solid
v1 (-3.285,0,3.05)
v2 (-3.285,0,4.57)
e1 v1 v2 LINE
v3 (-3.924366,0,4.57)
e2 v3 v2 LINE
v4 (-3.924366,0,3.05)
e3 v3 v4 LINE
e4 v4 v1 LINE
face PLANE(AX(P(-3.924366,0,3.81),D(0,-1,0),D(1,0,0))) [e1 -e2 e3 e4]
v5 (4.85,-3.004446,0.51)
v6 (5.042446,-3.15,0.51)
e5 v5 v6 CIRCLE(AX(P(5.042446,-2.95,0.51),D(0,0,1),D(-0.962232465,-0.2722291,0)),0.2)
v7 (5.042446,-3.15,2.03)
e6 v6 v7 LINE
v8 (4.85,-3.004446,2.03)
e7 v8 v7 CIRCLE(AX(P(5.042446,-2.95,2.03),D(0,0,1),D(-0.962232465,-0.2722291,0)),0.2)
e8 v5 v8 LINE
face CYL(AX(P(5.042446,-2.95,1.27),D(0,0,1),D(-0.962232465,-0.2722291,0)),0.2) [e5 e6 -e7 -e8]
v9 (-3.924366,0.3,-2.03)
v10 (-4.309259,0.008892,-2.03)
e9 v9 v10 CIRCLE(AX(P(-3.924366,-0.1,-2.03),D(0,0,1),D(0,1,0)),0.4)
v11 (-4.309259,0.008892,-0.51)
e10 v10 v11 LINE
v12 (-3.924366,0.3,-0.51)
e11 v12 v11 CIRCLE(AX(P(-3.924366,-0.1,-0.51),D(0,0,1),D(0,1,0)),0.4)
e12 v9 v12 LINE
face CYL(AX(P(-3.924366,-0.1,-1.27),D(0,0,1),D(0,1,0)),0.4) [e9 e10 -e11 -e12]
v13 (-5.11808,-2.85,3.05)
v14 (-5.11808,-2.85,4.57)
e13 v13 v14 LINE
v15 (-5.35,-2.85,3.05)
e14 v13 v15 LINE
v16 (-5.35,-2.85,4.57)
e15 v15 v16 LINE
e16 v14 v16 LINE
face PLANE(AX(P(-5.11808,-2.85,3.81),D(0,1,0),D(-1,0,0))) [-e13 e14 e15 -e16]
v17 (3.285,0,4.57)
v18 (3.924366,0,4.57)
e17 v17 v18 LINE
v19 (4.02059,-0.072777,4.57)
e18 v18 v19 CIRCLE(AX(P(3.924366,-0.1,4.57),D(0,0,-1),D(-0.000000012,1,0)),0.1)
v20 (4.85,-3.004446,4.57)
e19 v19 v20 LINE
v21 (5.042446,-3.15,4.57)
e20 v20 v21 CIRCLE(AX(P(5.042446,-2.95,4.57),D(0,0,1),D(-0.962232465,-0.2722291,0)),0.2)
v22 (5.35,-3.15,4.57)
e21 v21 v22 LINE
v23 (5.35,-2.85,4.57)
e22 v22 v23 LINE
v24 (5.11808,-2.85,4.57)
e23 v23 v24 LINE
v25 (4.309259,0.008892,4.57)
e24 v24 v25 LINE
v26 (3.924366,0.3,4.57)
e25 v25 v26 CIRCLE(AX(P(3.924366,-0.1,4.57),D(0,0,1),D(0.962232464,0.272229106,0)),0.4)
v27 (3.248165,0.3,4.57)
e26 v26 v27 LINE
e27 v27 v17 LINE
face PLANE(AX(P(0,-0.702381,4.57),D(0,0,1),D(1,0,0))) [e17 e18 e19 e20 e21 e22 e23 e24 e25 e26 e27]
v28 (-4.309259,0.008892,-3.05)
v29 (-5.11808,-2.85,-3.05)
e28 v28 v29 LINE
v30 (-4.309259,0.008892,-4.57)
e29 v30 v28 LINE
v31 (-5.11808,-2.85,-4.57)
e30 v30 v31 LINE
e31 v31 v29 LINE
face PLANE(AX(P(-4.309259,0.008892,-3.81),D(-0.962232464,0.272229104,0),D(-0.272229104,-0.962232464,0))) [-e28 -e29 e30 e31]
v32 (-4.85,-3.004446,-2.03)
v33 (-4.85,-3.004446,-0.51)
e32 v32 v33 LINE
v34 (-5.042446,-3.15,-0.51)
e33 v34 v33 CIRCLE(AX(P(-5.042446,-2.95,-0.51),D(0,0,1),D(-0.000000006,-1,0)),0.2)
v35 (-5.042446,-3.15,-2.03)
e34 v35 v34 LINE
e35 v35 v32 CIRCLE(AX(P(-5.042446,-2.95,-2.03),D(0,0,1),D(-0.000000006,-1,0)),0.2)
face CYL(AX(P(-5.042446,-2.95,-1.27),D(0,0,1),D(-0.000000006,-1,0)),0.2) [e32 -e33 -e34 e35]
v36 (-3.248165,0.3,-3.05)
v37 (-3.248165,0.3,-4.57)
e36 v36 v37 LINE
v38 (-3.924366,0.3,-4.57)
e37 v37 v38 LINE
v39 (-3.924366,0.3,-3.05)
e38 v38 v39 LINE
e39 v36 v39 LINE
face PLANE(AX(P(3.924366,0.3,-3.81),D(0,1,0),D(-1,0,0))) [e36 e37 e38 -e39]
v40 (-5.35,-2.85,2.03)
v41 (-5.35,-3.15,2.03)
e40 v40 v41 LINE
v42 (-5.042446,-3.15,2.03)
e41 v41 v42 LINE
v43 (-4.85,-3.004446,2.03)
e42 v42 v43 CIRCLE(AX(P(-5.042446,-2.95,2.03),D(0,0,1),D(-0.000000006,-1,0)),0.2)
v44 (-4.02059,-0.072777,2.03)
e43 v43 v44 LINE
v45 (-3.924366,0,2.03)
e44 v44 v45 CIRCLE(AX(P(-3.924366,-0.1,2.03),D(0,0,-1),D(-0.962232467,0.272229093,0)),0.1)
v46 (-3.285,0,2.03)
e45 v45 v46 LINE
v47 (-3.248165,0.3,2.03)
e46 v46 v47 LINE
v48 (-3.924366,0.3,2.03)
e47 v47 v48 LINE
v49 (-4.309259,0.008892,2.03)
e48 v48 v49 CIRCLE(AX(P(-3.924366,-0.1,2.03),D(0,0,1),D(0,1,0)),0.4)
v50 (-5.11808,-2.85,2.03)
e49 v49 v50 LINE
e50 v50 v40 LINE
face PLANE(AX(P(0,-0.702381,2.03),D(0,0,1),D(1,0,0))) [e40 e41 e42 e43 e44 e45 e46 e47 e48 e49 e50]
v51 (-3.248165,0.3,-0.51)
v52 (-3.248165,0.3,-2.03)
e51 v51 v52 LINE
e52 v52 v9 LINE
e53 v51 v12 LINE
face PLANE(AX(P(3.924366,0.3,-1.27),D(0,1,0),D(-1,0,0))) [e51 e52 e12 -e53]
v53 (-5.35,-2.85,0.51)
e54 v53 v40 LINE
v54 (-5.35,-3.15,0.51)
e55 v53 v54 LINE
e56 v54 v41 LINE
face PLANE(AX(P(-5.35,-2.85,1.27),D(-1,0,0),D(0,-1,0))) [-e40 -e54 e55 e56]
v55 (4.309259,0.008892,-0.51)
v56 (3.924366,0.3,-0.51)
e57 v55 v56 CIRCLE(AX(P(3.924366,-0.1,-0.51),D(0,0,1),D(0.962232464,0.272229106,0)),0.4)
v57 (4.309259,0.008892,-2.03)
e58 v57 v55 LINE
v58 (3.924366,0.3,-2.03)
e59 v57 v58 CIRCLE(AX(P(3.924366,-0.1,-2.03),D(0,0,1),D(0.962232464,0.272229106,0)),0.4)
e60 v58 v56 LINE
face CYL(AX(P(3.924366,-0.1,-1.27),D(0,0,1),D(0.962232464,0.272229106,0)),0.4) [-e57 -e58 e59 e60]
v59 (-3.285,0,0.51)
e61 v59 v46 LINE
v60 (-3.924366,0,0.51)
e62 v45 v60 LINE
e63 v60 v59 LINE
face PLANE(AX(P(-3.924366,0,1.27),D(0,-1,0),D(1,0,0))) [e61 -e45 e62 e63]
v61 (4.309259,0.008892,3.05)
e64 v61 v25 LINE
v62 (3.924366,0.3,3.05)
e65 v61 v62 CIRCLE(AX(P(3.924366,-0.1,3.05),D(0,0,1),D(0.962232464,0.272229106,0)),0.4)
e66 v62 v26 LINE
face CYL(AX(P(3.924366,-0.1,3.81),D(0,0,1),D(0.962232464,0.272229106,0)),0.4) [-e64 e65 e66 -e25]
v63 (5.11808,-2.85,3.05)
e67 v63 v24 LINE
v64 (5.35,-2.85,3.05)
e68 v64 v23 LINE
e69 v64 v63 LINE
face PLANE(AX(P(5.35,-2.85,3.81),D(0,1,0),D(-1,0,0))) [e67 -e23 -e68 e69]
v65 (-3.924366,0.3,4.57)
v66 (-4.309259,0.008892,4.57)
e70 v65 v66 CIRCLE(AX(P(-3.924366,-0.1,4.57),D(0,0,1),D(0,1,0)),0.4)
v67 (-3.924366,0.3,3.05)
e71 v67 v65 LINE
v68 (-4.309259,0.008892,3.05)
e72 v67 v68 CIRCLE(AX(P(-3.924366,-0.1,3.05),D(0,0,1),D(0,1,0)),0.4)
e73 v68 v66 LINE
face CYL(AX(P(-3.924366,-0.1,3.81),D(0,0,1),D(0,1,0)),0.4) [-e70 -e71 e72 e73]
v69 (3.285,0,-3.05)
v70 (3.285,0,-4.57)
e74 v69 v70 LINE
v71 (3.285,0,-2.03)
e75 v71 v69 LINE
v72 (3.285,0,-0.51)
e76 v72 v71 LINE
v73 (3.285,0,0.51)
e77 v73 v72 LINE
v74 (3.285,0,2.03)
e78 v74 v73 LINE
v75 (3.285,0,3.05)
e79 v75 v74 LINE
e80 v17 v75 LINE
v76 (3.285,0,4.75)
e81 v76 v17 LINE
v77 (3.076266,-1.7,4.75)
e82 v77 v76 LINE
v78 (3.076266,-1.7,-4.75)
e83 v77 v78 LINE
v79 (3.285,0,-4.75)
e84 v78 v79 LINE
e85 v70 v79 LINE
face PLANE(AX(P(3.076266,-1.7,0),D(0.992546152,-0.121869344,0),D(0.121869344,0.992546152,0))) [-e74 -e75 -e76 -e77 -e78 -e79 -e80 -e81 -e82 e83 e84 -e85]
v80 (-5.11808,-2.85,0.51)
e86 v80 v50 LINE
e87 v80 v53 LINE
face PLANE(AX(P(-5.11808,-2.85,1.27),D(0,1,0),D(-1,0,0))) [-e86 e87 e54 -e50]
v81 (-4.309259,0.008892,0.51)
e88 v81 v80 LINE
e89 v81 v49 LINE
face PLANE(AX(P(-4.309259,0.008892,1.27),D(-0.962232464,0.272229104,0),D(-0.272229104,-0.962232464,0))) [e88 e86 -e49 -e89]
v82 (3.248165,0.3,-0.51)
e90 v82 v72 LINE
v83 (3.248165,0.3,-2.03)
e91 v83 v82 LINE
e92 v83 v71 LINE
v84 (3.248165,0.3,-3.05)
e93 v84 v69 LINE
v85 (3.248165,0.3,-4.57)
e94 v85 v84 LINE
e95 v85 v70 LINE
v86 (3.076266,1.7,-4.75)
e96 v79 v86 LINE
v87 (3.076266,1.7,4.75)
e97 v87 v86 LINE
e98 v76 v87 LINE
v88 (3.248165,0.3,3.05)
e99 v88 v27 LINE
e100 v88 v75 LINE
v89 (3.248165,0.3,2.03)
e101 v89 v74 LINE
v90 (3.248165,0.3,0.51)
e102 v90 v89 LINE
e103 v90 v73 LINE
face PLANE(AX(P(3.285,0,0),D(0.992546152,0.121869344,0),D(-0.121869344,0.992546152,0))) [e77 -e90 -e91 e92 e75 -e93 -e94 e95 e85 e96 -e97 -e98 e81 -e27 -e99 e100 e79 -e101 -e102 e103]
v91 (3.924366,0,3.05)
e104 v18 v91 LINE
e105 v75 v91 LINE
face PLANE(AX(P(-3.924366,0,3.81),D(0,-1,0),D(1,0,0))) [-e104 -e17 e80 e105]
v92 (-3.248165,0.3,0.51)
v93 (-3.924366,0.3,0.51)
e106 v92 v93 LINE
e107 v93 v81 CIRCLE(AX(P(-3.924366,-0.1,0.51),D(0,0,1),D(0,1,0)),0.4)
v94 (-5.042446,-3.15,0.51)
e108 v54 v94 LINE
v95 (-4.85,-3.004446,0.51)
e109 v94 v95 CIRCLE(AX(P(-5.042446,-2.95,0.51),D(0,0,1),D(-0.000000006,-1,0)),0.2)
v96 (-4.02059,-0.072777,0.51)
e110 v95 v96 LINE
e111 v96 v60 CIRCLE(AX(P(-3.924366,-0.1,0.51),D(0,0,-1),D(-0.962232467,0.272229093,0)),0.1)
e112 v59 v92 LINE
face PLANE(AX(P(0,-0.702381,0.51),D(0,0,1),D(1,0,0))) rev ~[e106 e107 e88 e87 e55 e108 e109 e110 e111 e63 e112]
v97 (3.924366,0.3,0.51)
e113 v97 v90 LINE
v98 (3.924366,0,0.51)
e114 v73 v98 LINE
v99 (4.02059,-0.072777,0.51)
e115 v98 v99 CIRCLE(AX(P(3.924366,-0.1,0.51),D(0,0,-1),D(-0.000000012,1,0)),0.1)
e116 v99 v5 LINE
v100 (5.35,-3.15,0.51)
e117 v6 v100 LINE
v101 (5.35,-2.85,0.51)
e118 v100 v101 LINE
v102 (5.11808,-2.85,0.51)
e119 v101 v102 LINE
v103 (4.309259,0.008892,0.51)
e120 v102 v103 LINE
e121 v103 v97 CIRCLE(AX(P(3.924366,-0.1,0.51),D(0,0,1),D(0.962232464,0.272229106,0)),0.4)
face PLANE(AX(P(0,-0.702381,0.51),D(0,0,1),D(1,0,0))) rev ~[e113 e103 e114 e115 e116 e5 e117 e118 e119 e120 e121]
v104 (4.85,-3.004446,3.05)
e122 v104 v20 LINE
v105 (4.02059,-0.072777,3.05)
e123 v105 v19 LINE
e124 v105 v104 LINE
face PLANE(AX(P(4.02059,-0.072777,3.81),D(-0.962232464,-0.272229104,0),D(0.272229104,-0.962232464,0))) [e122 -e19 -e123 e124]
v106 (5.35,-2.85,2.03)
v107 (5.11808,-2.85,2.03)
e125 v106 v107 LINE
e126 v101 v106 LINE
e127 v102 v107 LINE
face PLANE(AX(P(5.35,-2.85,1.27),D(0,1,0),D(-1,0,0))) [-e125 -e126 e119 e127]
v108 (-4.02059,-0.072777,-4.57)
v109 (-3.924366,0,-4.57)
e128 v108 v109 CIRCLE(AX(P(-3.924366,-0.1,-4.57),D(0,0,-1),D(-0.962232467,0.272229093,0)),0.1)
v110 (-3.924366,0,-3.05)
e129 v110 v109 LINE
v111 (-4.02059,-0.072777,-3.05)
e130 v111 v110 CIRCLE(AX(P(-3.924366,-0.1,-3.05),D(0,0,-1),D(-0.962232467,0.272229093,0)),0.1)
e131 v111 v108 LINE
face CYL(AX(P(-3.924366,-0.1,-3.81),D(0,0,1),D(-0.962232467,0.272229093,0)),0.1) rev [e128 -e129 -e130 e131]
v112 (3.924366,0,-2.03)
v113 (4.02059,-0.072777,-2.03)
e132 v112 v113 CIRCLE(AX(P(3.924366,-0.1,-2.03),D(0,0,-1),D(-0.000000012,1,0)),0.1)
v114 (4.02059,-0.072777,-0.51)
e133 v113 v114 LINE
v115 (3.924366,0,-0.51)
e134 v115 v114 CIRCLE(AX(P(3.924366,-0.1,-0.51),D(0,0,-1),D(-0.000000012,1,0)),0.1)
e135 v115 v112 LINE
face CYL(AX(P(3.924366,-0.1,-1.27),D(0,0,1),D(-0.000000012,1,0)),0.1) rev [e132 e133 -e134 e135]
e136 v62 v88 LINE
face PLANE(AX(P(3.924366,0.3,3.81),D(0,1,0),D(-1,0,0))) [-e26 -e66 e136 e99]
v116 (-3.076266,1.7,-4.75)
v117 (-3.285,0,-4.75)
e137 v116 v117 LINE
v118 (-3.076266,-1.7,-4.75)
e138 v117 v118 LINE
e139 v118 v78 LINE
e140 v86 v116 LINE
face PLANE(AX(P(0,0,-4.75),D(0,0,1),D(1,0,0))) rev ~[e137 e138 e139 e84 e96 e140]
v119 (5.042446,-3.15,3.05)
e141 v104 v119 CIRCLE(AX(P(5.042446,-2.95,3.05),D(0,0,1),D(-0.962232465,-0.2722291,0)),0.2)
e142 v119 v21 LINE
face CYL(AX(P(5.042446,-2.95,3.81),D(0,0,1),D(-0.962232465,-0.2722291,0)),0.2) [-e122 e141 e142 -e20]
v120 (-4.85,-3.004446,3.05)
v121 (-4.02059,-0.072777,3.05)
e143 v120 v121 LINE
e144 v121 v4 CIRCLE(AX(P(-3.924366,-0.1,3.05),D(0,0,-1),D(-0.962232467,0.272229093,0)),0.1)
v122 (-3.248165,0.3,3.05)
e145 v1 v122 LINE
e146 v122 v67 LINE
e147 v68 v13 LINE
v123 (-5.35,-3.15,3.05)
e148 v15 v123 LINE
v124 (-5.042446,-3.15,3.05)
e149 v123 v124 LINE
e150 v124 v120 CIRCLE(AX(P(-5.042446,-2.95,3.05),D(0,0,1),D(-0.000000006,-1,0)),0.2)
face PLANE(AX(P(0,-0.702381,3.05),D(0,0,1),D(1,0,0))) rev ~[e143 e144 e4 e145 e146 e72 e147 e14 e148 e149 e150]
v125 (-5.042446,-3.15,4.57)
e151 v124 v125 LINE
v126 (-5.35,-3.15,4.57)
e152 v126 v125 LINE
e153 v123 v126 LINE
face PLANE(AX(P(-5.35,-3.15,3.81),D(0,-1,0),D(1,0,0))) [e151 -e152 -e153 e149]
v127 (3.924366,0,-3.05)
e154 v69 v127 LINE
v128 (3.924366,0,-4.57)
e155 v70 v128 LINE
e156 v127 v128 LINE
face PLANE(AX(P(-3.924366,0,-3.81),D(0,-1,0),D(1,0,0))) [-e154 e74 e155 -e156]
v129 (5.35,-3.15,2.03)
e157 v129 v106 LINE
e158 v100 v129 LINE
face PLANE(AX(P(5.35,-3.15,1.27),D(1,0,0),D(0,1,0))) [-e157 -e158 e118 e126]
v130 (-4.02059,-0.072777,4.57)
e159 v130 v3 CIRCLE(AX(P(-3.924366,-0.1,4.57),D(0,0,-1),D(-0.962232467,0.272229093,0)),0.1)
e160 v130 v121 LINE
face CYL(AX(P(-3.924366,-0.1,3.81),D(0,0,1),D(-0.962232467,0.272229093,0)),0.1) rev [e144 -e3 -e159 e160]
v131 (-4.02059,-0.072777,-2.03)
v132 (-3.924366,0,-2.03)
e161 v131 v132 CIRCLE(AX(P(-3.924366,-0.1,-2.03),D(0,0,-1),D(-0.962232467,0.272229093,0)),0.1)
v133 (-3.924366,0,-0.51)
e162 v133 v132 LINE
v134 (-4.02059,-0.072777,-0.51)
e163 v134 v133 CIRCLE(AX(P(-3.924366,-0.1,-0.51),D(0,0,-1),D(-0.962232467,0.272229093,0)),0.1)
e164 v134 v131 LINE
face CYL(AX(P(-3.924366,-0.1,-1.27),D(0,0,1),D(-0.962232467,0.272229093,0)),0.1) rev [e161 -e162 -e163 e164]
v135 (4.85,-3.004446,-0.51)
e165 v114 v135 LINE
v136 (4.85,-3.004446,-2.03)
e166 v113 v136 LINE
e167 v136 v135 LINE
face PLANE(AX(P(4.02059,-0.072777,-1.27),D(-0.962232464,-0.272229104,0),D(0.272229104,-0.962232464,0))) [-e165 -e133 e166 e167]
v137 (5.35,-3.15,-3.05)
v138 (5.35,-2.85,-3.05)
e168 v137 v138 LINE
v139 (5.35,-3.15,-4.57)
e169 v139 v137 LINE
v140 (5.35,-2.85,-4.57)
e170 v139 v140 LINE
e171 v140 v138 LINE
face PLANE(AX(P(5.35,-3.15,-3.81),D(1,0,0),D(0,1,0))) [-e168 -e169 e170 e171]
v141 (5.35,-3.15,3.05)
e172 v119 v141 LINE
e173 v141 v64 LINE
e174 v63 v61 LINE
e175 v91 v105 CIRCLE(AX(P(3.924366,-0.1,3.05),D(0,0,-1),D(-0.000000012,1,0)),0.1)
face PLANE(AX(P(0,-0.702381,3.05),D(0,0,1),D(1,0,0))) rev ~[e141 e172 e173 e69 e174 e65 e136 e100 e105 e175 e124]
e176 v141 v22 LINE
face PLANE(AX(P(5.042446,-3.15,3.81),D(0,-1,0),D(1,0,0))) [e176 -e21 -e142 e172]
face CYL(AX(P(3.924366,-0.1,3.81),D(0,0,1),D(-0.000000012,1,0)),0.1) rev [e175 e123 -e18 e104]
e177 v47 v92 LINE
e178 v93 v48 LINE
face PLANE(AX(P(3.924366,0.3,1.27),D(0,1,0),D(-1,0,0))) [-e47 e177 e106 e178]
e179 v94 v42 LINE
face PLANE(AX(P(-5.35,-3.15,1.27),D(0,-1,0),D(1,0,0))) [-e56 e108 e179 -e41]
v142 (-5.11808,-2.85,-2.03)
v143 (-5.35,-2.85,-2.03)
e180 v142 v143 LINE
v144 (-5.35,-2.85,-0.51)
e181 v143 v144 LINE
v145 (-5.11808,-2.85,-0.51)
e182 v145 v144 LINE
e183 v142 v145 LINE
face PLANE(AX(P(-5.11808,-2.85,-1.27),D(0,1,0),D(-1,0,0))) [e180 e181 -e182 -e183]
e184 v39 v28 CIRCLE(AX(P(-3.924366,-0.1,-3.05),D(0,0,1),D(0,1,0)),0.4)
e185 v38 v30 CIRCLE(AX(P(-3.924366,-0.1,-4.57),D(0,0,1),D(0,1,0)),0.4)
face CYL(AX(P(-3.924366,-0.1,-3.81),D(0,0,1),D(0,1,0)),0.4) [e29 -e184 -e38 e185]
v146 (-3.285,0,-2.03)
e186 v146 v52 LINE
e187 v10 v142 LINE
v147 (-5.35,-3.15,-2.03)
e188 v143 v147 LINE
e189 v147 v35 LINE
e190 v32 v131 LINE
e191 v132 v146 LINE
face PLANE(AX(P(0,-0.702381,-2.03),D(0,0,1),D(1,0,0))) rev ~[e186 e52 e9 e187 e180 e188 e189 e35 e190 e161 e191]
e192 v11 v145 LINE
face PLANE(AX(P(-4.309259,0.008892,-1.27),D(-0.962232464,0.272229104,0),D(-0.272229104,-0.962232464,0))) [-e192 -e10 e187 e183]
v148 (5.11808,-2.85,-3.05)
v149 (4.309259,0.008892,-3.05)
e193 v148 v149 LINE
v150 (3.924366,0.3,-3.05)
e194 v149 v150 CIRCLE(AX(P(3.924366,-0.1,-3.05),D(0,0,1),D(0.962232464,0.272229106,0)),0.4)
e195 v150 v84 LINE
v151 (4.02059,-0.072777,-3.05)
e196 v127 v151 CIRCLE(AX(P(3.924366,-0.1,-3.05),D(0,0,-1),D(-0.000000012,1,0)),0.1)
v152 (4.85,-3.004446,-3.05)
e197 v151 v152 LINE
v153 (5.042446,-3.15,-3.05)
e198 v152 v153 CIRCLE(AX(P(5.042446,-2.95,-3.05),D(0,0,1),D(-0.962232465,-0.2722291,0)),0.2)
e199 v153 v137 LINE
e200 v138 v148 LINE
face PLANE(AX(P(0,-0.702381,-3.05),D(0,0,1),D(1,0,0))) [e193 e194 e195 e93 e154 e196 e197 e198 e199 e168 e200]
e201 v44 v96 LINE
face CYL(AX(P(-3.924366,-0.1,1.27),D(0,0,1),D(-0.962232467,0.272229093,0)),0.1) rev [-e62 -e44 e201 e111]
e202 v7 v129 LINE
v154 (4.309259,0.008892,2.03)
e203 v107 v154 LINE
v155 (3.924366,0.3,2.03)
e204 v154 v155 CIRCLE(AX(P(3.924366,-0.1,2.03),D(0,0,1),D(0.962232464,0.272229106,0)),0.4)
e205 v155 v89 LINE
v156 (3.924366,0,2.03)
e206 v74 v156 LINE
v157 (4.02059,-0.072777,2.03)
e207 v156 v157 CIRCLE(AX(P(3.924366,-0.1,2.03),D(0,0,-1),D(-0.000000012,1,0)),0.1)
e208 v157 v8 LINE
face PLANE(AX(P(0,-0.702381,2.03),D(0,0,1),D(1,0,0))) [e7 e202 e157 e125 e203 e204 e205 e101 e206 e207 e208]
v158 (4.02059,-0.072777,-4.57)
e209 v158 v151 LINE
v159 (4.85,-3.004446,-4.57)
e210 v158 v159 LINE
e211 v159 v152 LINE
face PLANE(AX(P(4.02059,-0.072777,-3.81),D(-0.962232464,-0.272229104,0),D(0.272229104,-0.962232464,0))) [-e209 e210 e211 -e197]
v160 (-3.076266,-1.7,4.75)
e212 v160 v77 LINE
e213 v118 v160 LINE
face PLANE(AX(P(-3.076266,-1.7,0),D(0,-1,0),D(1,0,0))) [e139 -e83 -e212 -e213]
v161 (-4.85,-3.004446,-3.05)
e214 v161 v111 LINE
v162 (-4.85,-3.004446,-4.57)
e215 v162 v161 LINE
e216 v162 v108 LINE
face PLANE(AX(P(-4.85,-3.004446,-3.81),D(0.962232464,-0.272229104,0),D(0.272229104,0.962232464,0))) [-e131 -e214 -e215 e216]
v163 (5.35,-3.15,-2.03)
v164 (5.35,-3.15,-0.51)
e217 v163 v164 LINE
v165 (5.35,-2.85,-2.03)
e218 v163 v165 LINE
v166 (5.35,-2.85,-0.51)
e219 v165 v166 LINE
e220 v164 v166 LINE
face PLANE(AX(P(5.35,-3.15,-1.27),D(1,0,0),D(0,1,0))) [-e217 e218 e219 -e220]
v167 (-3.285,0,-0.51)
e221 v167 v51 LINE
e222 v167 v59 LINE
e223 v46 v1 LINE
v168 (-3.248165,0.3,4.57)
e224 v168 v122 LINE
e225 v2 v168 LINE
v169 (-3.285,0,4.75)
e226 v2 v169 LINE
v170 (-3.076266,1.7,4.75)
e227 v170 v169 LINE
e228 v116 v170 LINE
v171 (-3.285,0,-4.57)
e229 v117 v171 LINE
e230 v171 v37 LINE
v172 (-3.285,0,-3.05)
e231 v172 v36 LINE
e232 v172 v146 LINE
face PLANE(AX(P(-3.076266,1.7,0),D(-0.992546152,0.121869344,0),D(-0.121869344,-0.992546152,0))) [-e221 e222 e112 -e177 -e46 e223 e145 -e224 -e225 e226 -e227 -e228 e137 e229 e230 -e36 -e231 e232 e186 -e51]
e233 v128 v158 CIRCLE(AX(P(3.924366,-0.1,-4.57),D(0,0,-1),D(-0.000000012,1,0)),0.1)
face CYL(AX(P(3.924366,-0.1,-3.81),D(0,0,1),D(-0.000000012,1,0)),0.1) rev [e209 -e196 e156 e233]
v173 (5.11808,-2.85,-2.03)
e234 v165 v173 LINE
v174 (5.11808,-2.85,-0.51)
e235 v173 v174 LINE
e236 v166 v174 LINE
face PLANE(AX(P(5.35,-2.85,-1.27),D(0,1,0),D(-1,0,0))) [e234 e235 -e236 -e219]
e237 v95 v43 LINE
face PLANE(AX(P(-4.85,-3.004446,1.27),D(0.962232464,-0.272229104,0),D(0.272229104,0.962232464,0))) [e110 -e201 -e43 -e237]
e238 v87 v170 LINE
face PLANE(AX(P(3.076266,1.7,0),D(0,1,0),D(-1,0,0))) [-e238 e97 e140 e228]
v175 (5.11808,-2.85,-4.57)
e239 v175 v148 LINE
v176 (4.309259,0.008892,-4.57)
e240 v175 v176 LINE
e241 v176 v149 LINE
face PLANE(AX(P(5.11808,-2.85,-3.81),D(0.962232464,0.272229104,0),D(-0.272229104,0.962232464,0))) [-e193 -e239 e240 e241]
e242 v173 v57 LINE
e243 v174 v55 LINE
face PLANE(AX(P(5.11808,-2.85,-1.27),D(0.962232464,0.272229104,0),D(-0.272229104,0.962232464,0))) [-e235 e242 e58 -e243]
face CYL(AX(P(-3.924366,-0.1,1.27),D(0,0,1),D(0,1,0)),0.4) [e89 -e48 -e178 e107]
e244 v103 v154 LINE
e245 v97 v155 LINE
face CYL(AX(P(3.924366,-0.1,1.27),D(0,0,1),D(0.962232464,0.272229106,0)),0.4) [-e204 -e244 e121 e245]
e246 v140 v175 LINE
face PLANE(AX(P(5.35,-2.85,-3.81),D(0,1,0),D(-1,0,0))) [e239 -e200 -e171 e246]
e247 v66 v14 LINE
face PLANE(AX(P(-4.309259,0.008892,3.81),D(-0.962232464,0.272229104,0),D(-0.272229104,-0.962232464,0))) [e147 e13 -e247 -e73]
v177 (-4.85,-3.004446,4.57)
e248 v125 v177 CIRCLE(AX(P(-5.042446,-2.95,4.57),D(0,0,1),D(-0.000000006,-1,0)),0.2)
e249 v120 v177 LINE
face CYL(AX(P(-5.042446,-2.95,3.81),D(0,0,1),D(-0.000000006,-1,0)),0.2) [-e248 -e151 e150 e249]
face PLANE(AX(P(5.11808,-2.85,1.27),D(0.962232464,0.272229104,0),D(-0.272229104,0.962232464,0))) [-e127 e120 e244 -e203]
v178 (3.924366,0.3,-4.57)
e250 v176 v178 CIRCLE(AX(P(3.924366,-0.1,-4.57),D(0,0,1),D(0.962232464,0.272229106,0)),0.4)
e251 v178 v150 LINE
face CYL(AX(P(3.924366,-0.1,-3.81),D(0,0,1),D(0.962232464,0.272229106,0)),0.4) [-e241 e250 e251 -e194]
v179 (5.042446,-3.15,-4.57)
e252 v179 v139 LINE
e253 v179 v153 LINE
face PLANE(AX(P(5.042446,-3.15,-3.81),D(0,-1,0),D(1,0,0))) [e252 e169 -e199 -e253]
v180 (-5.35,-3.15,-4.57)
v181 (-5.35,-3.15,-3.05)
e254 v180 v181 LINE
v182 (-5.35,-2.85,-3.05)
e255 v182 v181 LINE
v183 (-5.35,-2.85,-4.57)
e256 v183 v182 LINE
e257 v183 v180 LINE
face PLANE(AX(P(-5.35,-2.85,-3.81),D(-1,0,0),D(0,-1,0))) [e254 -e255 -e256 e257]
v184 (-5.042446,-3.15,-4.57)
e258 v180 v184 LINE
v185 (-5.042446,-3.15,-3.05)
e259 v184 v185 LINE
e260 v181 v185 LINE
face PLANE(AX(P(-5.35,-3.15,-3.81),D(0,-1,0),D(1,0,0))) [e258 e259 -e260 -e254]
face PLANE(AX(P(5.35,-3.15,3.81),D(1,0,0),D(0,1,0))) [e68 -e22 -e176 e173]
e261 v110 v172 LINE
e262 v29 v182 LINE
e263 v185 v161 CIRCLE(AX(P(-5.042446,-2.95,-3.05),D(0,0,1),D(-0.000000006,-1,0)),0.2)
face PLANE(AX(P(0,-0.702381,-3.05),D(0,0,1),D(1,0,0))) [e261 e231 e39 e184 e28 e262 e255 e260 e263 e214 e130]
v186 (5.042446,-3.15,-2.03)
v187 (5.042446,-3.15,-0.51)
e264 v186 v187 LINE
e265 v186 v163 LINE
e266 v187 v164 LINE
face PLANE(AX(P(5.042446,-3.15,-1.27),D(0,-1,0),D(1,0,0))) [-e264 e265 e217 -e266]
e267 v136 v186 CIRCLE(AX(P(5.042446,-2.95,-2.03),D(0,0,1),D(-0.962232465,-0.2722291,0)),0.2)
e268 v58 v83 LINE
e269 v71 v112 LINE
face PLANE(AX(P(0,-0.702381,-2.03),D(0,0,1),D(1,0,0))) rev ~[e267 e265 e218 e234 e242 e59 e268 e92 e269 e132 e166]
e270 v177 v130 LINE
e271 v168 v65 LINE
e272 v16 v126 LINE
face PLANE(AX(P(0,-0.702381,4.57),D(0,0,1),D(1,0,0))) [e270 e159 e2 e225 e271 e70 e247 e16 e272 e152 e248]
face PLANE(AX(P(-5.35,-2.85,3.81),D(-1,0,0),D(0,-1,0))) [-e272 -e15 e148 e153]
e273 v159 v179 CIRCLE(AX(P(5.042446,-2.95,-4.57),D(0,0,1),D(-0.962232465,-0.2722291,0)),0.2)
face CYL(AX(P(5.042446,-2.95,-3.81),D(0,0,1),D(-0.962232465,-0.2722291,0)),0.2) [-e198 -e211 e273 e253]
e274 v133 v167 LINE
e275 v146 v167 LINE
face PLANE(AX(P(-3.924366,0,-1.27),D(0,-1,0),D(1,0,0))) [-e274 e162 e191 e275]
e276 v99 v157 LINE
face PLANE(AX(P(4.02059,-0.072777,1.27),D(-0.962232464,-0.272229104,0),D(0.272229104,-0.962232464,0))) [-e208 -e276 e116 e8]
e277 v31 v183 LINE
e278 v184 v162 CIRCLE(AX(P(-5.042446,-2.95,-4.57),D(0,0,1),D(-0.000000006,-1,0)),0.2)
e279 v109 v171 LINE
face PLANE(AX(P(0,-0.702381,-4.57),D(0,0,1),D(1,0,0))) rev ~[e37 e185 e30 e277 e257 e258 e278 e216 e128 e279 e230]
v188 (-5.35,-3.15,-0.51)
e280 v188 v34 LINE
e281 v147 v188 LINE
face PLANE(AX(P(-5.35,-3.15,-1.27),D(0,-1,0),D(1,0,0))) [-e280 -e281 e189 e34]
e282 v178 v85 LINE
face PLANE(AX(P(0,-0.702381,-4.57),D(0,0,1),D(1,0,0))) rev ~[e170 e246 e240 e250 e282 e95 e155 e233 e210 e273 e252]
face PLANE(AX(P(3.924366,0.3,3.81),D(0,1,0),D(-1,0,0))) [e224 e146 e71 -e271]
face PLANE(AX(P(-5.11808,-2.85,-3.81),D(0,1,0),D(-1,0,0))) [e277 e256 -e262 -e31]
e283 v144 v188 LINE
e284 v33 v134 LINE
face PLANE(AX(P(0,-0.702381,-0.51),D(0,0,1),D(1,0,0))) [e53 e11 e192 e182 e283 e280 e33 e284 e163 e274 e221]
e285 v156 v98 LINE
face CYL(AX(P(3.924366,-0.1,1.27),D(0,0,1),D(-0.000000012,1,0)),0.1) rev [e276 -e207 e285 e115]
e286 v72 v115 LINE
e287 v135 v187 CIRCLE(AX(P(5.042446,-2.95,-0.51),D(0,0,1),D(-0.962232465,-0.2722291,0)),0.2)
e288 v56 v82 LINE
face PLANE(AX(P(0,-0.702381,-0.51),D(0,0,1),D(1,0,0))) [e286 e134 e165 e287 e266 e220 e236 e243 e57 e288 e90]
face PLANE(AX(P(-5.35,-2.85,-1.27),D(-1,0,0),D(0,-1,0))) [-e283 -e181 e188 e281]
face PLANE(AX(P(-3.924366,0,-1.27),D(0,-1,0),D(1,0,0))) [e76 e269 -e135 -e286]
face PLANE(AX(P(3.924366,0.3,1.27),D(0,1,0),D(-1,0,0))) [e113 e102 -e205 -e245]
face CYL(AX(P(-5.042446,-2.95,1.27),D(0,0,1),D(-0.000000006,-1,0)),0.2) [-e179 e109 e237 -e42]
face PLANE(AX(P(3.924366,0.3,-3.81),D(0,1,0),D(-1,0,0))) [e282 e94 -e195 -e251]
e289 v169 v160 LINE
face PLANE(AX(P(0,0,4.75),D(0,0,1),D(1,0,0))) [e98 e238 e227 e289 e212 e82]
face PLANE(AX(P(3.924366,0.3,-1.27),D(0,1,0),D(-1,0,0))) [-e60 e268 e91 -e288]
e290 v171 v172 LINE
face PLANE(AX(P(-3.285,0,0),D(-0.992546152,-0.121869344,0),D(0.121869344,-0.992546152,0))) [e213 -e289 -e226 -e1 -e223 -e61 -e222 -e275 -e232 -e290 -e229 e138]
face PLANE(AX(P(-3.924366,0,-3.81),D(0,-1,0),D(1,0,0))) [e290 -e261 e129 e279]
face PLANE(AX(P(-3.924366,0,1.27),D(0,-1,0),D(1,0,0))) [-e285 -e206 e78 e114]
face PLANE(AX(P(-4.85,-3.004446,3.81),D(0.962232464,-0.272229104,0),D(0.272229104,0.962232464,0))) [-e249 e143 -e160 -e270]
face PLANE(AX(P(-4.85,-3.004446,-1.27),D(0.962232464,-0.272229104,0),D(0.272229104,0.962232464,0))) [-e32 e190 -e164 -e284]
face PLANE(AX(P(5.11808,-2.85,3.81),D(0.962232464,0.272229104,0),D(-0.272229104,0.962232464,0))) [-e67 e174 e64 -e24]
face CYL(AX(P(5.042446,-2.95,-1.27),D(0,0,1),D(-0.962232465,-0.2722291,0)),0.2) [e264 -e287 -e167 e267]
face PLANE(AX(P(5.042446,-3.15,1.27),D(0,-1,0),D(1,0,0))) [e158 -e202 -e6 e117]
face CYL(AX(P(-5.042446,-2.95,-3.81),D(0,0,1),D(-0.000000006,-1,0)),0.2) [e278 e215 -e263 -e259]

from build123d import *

# Parameters (mm, degrees)
BOSS_EXTRUDE1_DEPTH  = 4.75
BOSS_EXTRUDE2_DEPTH  = 0.76
LPATTERN1_COUNT      = 3
LPATTERN1_PITCH      = 2.54
LPATTERN1_COUNT_DIR2 = 2
LPATTERN1_PITCH_DIR2 = 2.54


with BuildPart() as part:
    # Sketch1 → Boss-Extrude1 (new, symmetric)
    with BuildSketch(Plane.XY):
        Polygon((3.076266246, 1.7), (-3.076266246, 1.7), (-3.285, 0), (-3.076266246, -1.7), (3.076266246, -1.7), (3.285, 0), align=None)
    extrude(amount=BOSS_EXTRUDE1_DEPTH, both=True)

    # Sketch2 → Boss-Extrude2 (add, symmetric)
    with BuildSketch(Plane.XY.offset(1.27)):
        with BuildLine():
            Line((3.924366416, 0.3), (-3.924366416, 0.3))
            ThreePointArc((-3.924366416, 0.3), (-4.16565809, 0.219027159), (-4.309259402, 0.008891642))
            Line((-4.309259402, 0.008891642), (-5.118080076, -2.85))
            Line((-5.118080076, -2.85), (-5.35, -2.85))
            Line((-5.35, -2.85), (-5.35, -3.15))
            Line((-5.35, -3.15), (-5.042446493, -3.15))
            ThreePointArc((-5.042446493, -3.15), (-4.921800656, -3.10951358), (-4.85, -3.004445821))
            Line((-4.85, -3.004445821), (-4.020589663, -0.07277709))
            ThreePointArc((-4.020589663, -0.07277709), (-3.984689335, -0.02024321), (-3.924366416, 0))
            Line((-3.924366416, 0), (3.924366416, 0))
            ThreePointArc((3.924366416, 0), (3.984689335, -0.02024321), (4.020589663, -0.07277709))
            Line((4.020589663, -0.07277709), (4.85, -3.004445821))
            ThreePointArc((4.85, -3.004445821), (4.921800656, -3.10951358), (5.042446493, -3.15))
            Line((5.042446493, -3.15), (5.35, -3.15))
            Line((5.35, -3.15), (5.35, -2.85))
            Line((5.35, -2.85), (5.118080076, -2.85))
            Line((5.118080076, -2.85), (4.309259402, 0.008891642))
            ThreePointArc((4.309259402, 0.008891642), (4.16565809, 0.219027159), (3.924366416, 0.3))
        make_face()
    boss_extrude2 = extrude(amount=BOSS_EXTRUDE2_DEPTH, both=True)

    # LPattern1: Boss-Extrude2 3 × 2
    with Locations(*[Vector(0, 0, -1) * (i * LPATTERN1_PITCH) + Vector(0, 0, 1) * (j * LPATTERN1_PITCH_DIR2) for i in range(LPATTERN1_COUNT) for j in range(LPATTERN1_COUNT_DIR2) if (i, j) != (0, 0)]):
        add(boss_extrude2)


solid = part.part
